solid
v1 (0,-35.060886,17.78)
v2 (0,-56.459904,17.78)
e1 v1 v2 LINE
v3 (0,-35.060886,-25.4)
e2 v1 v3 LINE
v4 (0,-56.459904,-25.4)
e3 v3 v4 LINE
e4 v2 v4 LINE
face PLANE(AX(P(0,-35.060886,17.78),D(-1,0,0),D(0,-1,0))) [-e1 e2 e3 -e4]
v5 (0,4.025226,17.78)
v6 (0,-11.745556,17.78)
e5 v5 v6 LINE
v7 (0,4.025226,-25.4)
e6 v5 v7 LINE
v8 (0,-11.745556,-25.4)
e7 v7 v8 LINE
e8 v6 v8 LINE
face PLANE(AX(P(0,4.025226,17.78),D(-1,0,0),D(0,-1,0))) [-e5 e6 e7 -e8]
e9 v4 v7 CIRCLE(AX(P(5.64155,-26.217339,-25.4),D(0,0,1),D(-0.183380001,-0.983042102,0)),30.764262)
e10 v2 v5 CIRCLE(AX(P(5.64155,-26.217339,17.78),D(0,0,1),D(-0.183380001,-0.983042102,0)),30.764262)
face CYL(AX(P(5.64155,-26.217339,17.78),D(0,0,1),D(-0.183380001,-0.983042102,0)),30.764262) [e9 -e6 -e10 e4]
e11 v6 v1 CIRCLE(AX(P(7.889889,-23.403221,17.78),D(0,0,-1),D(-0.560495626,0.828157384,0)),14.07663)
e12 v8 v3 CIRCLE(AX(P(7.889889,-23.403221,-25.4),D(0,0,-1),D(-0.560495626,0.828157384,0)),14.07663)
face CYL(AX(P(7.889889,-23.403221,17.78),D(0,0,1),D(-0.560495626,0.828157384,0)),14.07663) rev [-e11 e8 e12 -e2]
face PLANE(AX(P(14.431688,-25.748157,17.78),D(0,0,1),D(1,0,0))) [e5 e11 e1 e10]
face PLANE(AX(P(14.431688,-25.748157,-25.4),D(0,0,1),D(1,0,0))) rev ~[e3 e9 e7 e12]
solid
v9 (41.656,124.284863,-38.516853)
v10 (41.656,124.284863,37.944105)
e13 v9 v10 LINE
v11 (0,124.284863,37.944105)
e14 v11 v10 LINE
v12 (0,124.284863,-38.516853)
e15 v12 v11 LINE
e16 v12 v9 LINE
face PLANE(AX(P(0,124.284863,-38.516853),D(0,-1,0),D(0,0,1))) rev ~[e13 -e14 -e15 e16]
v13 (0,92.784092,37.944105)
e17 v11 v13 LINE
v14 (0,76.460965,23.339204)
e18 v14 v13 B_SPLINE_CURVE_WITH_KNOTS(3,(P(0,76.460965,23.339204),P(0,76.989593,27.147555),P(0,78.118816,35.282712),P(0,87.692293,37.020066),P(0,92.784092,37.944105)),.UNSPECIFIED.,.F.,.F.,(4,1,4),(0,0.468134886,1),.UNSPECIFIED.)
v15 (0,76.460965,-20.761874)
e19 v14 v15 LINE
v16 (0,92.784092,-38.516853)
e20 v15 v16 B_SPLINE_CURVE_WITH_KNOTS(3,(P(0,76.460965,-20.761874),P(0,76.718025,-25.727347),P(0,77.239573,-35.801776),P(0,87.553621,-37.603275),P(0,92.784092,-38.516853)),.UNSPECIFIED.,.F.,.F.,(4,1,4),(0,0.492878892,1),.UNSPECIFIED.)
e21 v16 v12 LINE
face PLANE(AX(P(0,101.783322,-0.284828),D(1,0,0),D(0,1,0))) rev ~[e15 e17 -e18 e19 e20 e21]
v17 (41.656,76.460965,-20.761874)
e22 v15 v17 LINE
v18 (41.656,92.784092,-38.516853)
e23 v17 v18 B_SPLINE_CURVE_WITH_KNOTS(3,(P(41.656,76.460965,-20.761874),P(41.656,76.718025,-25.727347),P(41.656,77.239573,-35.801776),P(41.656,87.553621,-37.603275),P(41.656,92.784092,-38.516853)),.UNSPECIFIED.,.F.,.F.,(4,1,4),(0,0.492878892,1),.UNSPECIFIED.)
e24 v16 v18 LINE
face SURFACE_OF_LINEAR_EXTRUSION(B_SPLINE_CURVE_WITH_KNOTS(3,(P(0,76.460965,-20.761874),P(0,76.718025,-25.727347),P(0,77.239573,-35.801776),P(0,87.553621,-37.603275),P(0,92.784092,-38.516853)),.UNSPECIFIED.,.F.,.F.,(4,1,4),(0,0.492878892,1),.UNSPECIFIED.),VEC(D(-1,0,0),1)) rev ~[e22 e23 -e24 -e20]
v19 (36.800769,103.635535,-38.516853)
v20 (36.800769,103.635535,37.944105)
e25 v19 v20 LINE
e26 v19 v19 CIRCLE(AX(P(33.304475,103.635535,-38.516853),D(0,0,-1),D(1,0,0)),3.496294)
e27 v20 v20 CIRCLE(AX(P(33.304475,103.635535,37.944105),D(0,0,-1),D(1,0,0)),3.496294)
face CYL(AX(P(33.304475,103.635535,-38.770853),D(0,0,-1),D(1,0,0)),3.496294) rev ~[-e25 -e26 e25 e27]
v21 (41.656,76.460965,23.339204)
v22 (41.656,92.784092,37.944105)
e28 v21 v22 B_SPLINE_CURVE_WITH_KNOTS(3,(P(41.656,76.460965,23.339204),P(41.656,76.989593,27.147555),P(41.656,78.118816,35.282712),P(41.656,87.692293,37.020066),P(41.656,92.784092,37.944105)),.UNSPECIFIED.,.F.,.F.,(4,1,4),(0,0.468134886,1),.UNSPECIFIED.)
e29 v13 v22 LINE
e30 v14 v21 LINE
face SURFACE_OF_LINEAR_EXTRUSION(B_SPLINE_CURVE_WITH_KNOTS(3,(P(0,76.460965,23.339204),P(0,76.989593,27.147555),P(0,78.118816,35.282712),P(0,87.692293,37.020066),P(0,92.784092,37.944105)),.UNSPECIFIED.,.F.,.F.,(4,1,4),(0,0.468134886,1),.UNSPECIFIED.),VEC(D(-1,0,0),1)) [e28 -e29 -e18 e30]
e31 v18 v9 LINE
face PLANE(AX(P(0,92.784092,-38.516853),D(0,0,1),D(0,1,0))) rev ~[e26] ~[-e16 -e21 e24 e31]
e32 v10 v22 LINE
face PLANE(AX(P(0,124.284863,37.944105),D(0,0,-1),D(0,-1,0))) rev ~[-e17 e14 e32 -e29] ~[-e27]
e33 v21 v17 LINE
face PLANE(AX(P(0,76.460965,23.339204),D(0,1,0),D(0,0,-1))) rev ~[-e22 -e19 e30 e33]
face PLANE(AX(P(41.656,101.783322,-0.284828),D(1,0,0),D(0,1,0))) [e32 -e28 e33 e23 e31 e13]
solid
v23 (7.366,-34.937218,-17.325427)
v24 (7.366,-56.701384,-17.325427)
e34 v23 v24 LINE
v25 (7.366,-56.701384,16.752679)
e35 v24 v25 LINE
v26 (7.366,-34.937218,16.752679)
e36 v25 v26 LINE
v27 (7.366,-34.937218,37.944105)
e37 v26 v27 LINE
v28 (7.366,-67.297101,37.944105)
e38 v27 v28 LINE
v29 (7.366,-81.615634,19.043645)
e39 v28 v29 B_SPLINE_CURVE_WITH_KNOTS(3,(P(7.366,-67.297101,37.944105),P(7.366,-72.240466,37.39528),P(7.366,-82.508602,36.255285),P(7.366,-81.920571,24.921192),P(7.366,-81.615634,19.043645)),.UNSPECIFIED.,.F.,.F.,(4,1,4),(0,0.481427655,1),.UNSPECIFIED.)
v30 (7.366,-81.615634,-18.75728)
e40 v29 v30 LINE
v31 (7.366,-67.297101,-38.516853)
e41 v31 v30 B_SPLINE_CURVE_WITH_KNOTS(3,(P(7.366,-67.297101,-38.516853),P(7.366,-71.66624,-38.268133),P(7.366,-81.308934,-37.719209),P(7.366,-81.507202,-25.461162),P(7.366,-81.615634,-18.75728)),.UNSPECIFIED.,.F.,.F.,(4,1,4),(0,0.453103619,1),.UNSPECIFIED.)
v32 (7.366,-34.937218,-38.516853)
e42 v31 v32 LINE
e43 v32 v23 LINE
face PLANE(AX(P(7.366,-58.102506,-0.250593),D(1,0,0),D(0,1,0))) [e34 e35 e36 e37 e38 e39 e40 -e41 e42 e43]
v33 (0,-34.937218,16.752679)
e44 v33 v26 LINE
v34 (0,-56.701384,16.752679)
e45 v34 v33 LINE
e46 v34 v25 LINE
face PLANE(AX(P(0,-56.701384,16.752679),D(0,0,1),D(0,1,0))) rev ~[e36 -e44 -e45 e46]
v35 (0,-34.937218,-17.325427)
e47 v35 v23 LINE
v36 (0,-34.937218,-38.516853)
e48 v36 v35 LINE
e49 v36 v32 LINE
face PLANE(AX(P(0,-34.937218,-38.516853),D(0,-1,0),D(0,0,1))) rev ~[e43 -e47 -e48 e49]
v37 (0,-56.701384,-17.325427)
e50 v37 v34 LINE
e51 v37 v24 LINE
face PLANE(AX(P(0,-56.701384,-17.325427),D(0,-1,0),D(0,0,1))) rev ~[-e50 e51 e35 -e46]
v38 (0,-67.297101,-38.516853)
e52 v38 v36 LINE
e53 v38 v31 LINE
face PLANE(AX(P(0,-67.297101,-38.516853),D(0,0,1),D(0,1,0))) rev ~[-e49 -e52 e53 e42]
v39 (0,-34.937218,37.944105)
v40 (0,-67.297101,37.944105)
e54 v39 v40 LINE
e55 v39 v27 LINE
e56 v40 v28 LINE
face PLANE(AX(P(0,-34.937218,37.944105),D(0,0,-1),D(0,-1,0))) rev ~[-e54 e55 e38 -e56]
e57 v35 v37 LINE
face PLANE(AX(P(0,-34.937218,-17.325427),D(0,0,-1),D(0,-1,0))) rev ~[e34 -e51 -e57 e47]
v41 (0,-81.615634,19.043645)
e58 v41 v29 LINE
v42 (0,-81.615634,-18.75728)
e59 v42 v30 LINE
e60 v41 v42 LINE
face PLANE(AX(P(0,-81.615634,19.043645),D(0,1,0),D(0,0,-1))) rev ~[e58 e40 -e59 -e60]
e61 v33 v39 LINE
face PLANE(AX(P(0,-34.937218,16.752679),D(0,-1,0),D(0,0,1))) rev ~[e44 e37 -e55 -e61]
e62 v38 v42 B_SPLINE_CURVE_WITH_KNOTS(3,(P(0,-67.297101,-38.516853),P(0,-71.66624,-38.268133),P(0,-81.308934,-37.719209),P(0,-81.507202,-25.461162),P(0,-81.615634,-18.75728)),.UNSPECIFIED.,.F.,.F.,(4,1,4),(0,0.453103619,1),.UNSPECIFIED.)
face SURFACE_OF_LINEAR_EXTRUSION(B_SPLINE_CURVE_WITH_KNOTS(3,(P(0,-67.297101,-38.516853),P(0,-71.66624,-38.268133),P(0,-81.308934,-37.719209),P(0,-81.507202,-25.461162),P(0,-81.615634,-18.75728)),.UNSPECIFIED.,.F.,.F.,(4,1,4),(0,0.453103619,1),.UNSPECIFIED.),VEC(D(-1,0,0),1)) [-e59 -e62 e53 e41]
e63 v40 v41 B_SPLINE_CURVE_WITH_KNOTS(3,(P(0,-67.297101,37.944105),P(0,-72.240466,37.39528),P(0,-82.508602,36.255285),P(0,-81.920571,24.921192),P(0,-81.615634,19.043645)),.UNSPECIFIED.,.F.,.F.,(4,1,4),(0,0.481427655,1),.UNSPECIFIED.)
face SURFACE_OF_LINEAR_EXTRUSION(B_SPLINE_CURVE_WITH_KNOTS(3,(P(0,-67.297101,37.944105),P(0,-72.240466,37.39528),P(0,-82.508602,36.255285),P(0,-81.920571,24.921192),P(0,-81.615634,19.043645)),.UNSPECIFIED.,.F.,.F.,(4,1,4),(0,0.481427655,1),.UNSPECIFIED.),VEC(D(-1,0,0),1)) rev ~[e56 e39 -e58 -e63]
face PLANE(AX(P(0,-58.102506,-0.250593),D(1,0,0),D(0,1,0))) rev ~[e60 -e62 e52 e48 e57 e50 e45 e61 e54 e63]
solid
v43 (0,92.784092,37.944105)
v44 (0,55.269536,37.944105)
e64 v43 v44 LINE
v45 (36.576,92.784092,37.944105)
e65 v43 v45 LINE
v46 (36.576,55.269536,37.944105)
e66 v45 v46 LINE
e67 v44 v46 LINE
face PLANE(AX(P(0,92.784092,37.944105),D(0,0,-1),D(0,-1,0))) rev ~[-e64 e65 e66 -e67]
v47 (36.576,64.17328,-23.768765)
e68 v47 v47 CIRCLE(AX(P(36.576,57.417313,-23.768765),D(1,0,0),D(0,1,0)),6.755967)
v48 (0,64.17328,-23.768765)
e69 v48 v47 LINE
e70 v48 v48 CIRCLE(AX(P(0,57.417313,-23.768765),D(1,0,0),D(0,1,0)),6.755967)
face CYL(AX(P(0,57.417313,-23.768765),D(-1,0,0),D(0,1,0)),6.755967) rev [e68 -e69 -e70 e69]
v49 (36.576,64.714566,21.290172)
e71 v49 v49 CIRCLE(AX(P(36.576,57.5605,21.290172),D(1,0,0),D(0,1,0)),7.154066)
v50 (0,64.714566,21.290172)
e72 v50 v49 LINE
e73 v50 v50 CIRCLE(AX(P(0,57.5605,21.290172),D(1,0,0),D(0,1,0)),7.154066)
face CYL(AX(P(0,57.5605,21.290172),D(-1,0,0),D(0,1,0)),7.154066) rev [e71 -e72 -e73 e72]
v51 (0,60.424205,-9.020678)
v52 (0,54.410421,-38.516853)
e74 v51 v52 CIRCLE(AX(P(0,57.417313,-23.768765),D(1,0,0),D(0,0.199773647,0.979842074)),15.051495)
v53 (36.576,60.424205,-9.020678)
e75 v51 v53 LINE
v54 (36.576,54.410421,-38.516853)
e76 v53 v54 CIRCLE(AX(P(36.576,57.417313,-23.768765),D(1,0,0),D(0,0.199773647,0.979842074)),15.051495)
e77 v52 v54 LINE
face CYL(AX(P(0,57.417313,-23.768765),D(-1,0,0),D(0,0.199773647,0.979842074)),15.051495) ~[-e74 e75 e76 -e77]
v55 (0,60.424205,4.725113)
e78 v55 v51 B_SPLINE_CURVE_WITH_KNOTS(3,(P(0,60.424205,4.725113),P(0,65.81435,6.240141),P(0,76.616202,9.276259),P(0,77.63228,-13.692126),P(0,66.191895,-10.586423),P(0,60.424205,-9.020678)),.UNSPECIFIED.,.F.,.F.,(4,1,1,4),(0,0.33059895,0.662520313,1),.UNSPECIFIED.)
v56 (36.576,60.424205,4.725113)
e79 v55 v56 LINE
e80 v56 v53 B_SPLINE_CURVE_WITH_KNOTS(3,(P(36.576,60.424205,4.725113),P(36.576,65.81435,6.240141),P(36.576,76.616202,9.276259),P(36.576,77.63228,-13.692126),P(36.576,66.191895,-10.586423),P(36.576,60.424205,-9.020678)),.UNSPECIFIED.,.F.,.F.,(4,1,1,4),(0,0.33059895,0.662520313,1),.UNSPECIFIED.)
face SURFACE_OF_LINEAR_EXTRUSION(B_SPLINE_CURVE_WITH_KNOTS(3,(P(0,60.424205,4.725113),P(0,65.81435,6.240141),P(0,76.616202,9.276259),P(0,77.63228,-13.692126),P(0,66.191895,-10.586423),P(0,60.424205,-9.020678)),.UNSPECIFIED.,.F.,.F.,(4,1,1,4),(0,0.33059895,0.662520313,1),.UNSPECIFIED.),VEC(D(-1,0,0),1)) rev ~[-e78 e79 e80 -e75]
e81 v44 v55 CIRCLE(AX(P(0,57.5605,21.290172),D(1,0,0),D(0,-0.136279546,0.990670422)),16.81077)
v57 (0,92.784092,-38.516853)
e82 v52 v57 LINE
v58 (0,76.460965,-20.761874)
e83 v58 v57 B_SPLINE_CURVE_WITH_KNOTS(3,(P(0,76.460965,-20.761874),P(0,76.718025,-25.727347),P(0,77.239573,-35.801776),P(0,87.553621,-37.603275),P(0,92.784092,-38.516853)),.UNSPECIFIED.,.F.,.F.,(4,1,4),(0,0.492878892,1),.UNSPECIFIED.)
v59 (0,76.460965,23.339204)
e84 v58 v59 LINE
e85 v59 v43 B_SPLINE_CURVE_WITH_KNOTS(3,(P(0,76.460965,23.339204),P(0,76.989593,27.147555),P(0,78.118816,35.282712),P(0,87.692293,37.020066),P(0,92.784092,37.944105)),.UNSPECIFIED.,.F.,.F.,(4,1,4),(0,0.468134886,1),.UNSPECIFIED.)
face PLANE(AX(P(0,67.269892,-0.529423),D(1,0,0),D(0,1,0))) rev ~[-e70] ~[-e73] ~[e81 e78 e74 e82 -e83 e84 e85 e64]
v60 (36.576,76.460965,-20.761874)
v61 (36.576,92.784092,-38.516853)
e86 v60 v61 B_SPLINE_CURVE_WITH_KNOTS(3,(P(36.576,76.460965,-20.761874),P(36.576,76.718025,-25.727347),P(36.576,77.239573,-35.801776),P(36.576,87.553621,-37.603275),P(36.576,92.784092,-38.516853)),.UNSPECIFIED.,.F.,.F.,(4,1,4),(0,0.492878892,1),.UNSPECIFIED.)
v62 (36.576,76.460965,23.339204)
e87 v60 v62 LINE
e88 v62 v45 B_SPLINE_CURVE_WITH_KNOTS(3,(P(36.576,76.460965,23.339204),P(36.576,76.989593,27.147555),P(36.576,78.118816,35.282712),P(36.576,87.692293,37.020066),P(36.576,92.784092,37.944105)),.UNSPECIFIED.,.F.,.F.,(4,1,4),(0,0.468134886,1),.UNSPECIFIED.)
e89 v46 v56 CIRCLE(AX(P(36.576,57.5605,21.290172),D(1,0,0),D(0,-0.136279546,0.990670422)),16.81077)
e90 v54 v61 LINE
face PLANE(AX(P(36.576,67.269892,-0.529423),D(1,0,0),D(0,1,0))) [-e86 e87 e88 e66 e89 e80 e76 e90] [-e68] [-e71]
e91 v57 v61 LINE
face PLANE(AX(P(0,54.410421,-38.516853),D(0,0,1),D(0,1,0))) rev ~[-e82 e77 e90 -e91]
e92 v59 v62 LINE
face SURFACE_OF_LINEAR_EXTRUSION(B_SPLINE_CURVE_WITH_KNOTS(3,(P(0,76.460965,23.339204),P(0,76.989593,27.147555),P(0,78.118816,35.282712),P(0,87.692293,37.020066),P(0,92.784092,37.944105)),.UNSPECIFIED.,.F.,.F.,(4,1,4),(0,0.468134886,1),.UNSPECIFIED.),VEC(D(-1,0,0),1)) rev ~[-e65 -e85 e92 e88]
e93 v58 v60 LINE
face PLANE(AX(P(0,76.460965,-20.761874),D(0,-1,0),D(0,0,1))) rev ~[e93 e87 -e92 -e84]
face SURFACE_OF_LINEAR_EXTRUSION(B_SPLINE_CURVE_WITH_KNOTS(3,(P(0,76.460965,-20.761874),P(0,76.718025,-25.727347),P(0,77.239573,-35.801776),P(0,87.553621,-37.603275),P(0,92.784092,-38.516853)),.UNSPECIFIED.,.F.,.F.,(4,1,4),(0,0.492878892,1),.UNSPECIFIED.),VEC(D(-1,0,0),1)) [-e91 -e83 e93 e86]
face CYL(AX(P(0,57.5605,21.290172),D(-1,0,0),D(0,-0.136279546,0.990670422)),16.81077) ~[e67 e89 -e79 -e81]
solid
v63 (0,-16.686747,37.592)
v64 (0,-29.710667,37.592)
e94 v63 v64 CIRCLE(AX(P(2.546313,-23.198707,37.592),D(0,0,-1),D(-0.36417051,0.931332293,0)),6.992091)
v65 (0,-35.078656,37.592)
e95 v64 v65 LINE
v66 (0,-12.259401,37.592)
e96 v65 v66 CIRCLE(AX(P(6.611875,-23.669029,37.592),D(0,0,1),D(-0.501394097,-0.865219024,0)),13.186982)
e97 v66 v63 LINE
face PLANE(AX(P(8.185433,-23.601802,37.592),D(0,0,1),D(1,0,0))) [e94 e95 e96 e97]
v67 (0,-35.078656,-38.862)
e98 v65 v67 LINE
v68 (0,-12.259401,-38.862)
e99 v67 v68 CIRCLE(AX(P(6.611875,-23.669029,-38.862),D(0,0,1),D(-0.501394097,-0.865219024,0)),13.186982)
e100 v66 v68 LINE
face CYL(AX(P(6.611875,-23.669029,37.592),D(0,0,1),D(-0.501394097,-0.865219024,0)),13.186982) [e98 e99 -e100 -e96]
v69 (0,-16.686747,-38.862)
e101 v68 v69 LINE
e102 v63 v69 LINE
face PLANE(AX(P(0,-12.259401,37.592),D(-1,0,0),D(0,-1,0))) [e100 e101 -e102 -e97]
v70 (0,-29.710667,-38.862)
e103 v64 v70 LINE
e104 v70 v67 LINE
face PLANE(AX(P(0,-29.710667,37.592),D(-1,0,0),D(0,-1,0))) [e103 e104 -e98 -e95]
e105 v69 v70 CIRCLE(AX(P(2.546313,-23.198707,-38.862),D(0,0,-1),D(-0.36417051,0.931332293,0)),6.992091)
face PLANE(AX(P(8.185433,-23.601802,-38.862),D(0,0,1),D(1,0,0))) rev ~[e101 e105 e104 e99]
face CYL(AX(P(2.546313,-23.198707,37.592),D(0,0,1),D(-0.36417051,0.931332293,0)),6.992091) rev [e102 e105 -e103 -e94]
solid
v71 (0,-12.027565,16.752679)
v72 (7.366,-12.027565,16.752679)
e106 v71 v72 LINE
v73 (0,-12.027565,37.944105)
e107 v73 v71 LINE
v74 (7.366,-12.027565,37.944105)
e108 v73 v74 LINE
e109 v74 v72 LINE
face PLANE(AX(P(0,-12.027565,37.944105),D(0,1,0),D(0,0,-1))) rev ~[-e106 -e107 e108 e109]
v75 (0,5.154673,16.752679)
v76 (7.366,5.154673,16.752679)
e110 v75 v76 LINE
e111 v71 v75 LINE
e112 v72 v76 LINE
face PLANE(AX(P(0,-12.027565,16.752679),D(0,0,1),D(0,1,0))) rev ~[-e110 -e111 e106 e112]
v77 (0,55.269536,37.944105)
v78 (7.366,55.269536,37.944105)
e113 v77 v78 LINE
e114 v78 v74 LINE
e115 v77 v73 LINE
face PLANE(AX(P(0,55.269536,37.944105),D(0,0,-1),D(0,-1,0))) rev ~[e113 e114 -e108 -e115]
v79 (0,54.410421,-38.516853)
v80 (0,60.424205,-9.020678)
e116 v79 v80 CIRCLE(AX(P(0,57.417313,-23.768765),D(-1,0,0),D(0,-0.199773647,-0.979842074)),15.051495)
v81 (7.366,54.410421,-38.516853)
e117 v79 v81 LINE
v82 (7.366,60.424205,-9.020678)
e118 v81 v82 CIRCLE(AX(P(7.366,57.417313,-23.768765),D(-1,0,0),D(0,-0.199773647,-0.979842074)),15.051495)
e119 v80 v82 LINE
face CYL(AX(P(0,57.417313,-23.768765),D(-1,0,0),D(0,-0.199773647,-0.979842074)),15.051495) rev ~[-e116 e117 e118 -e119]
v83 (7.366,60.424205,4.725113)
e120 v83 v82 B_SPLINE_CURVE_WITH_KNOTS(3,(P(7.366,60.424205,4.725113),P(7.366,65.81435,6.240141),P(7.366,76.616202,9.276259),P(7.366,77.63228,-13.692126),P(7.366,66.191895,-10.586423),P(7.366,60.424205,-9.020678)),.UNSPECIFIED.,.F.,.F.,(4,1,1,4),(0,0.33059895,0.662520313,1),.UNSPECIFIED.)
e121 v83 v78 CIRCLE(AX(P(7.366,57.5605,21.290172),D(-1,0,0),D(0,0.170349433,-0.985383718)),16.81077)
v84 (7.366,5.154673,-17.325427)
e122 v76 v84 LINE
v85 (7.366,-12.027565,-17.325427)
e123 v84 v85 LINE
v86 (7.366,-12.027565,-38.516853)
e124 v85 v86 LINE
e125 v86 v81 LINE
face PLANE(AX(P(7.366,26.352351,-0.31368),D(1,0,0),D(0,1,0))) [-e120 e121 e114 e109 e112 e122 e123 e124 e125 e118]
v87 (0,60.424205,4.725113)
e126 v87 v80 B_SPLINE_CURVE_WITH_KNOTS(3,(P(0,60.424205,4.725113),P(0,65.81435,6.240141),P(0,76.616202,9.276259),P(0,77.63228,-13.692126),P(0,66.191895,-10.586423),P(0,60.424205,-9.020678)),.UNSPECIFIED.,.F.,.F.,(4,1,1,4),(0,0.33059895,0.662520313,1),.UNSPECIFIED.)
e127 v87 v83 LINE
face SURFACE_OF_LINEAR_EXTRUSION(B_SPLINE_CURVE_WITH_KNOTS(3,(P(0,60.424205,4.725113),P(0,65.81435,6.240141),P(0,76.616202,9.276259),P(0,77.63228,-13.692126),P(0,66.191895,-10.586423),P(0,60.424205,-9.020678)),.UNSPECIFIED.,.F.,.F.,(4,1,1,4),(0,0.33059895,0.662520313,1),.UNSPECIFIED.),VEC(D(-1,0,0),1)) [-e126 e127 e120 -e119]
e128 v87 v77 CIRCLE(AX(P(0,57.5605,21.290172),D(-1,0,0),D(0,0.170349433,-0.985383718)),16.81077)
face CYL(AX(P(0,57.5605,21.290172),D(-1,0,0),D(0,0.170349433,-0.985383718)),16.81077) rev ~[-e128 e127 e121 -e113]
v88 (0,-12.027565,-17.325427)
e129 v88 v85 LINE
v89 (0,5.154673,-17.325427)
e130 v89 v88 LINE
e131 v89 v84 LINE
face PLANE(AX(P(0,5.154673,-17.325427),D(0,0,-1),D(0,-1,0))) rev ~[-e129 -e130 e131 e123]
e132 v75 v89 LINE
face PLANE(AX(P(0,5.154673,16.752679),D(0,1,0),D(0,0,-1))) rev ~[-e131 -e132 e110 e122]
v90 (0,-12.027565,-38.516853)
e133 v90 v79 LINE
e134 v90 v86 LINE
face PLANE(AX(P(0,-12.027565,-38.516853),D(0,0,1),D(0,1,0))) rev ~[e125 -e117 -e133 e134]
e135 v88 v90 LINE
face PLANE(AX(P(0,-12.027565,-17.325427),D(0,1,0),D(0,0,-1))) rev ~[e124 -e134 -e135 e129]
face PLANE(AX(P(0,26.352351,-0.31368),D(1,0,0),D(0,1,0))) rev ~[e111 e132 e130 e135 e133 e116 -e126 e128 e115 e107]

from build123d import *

# Parameters (mm, degrees)
F1_DEPTH  = 41.656
F2_DEPTH  = 7.366
F0_R      = 6.755967202
F0_R_2    = 7.1540660552
F3_DEPTH  = 36.576
F5_R      = 3.4962937173
F6_DEPTH  = 76.962
F11_DEPTH = 43.18
F12_DEPTH = 76.454


with BuildPart() as f1:
    # F0 (on Right) → F1 (new body)
    with BuildSketch(Plane.YZ):
        with BuildLine():
            Line((124.284863472, 37.9441045225), (92.7840918303, 37.9441045225))
            add(Edge.make_bspline(
                [(76.4609649777, 23.3392044902), (76.9895934803, 27.1475551039), (78.1188161003, 35.2827117164), (87.6922932924, 37.0200662536), (92.7840918303, 37.9441045225)],
                knots=[0, 0, 0, 0, 0.468134886, 1, 1, 1, 1], degree=3))
            Line((76.4609649777, 23.3392044902), (76.4609649777, -20.7618735731))
            add(Edge.make_bspline(
                [(76.4609649777, -20.7618735731), (76.7180250693, -25.7273470106), (77.2395732538, -35.8017760714), (87.5536206775, -37.6032749156), (92.7840918303, -38.5168530047)],
                knots=[0, 0, 0, 0, 0.4928788925, 1, 1, 1, 1], degree=3))
            Line((92.7840918303, -38.5168530047), (124.284863472, -38.5168530047))
            Line((124.284863472, -38.5168530047), (124.284863472, 37.9441045225))
        make_face()
    extrude(amount=F1_DEPTH)

    # F5 (on offset) → F6 (cut)
    with BuildSketch(Plane(origin=(0, 0, -38.7708530047), x_dir=(1, 0, 0), z_dir=(0, 0, -1))):
        with Locations((33.3044752479, -103.6355346441)):
            Circle(F5_R)
    extrude(amount=-F6_DEPTH, mode=Mode.SUBTRACT)


with BuildPart() as f2:
    # F0 (on Right) → F2 (new body)
    with BuildSketch(Plane.YZ):
        with BuildLine():
            ThreePointArc((60.4242049158, 4.7251125798), (40.9485352592, 18.7124540736), (55.2695356309, 37.9441045225))
            Line((55.2695356309, 37.9441045225), (-12.0275653899, 37.9441045225))
            Line((-12.0275653899, 37.9441045225), (-12.0275653899, 16.752678901))
            Line((-12.0275653899, 16.752678901), (5.1546725444, 16.752678901))
            Line((5.1546725444, 16.752678901), (5.1546725444, -17.3254273832))
            Line((5.1546725444, -17.3254273832), (-12.0275653899, -17.3254273832))
            Line((-12.0275653899, -17.3254273832), (-12.0275653899, -38.5168530047))
            Line((-12.0275653899, -38.5168530047), (54.4104210101, -38.5168530047))
            ThreePointArc((54.4104210101, -38.5168530047), (42.6692253444, -20.7618734334), (60.4242049158, -9.0206777677))
            add(Edge.make_bspline(
                [(60.4242049158, 4.7251125798), (65.8143502447, 6.2401412629), (76.6162017435, 9.2762588168), (77.6322797861, -13.6921261943), (66.1918946871, -10.5864232395), (60.4242049158, -9.0206777677)],
                knots=[0, 0, 0, 0, 0.3305989505, 0.6625203127, 1, 1, 1, 1], degree=3))
        make_face()
    extrude(amount=F2_DEPTH)


with BuildPart() as f2b:
    # F0 (on Right) → F2, piece 2 (new body)
    with BuildSketch(Plane.YZ):
        with BuildLine():
            Line((-34.9372178316, 16.752678901), (-34.9372178316, 37.9441045225))
            Line((-34.9372178316, 37.9441045225), (-67.2971010208, 37.9441045225))
            add(Edge.make_bspline(
                [(-67.2971010208, 37.9441045225), (-72.2404657293, 37.3952796442), (-82.5086018901, 36.2552851443), (-81.9205708818, 24.9211921025), (-81.6156342626, 19.0436448902)],
                knots=[0, 0, 0, 0, 0.4814276545, 1, 1, 1, 1], degree=3))
            Line((-81.6156342626, 19.0436448902), (-81.6156342626, -18.7572799623))
            add(Edge.make_bspline(
                [(-67.2971010208, -38.5168530047), (-71.6662403179, -38.2681333646), (-81.3089337723, -37.7192089467), (-81.5072020558, -25.4611616643), (-81.6156342626, -18.7572799623)],
                knots=[0, 0, 0, 0, 0.4531036186, 1, 1, 1, 1], degree=3))
            Line((-67.2971010208, -38.5168530047), (-34.9372178316, -38.5168530047))
            Line((-34.9372178316, -38.5168530047), (-34.9372178316, -17.3254273832))
            Line((-34.9372178316, -17.3254273832), (-56.7013844848, -17.3254273832))
            Line((-56.7013844848, -17.3254273832), (-56.7013844848, 16.752678901))
            Line((-56.7013844848, 16.752678901), (-34.9372178316, 16.752678901))
        make_face()
    extrude(amount=F2_DEPTH)


with BuildPart() as f3:
    # F0 (on Right) → F3 (new body)
    with BuildSketch(Plane.YZ):
        with BuildLine():
            Line((92.7840918303, 37.9441045225), (59.8514638841, 37.9441045225))
            Line((59.8514638841, 37.9441045225), (55.2695356309, 37.9441045225))
            ThreePointArc((55.2695356309, 37.9441045225), (40.9485352592, 18.7124540736), (60.4242049158, 4.7251125798))
            add(Edge.make_bspline(
                [(60.4242049158, 4.7251125798), (65.8143502447, 6.2401412629), (76.6162017435, 9.2762588168), (77.6322797861, -13.6921261943), (66.1918946871, -10.5864232395), (60.4242049158, -9.0206777677)],
                knots=[0, 0, 0, 0, 0.3305989505, 0.6625203127, 1, 1, 1, 1], degree=3))
            ThreePointArc((60.4242049158, -9.0206777677), (42.6692253444, -20.7618734334), (54.4104210101, -38.5168530047))
            Line((54.4104210101, -38.5168530047), (60.4242049158, -38.5168530047))
            Line((60.4242049158, -38.5168530047), (92.7840918303, -38.5168530047))
            add(Edge.make_bspline(
                [(76.4609649777, -20.7618735731), (76.7180250693, -25.7273470106), (77.2395732538, -35.8017760714), (87.5536206775, -37.6032749156), (92.7840918303, -38.5168530047)],
                knots=[0, 0, 0, 0, 0.4928788925, 1, 1, 1, 1], degree=3))
            Line((76.4609649777, -20.7618735731), (76.4609649777, 23.3392044902))
            add(Edge.make_bspline(
                [(76.4609649777, 23.3392044902), (76.9895934803, 27.1475551039), (78.1188161003, 35.2827117164), (87.6922932924, 37.0200662536), (92.7840918303, 37.9441045225)],
                knots=[0, 0, 0, 0, 0.468134886, 1, 1, 1, 1], degree=3))
        make_face()
        with Locations((57.4173129629, -23.7687653862)):
            Circle(F0_R, mode=Mode.SUBTRACT)
        with Locations((57.5604997575, 21.2901717631)):
            Circle(F0_R_2, mode=Mode.SUBTRACT)
    extrude(amount=F3_DEPTH)


with BuildPart() as f11:
    # F8 (on offset) → F11 (new body)
    with BuildSketch(Plane.XY.offset(17.78)):
        with BuildLine():
            Line((0, -35.0608862936), (0, -56.459903717))
            ThreePointArc((0, -56.459903717), (36.4058124739, -26.2173388619), (0, 4.0252259932))
            Line((0, 4.0252259932), (0, -11.7455562577))
            ThreePointArc((0, -11.7455562577), (21.9665194179, -23.4032212757), (0, -35.0608862936))
        make_face()
    extrude(amount=-F11_DEPTH)


with BuildPart() as f12:
    # F10 (on offset) → F12 (new body)
    with BuildSketch(Plane.XY.offset(37.592)):
        with BuildLine():
            ThreePointArc((0, -16.6867468506), (9.5384043978, -23.1987070292), (0, -29.7106672078))
            Line((0, -29.7106672078), (0, -35.0786559284))
            ThreePointArc((0, -35.0786559284), (19.7988561915, -23.6690286547), (0, -12.259401381))
            Line((0, -12.259401381), (0, -16.6867468506))
        make_face()
    extrude(amount=-F12_DEPTH)


solid = Compound([f1.part, f2.part, f2b.part, f3.part, f11.part, f12.part])
